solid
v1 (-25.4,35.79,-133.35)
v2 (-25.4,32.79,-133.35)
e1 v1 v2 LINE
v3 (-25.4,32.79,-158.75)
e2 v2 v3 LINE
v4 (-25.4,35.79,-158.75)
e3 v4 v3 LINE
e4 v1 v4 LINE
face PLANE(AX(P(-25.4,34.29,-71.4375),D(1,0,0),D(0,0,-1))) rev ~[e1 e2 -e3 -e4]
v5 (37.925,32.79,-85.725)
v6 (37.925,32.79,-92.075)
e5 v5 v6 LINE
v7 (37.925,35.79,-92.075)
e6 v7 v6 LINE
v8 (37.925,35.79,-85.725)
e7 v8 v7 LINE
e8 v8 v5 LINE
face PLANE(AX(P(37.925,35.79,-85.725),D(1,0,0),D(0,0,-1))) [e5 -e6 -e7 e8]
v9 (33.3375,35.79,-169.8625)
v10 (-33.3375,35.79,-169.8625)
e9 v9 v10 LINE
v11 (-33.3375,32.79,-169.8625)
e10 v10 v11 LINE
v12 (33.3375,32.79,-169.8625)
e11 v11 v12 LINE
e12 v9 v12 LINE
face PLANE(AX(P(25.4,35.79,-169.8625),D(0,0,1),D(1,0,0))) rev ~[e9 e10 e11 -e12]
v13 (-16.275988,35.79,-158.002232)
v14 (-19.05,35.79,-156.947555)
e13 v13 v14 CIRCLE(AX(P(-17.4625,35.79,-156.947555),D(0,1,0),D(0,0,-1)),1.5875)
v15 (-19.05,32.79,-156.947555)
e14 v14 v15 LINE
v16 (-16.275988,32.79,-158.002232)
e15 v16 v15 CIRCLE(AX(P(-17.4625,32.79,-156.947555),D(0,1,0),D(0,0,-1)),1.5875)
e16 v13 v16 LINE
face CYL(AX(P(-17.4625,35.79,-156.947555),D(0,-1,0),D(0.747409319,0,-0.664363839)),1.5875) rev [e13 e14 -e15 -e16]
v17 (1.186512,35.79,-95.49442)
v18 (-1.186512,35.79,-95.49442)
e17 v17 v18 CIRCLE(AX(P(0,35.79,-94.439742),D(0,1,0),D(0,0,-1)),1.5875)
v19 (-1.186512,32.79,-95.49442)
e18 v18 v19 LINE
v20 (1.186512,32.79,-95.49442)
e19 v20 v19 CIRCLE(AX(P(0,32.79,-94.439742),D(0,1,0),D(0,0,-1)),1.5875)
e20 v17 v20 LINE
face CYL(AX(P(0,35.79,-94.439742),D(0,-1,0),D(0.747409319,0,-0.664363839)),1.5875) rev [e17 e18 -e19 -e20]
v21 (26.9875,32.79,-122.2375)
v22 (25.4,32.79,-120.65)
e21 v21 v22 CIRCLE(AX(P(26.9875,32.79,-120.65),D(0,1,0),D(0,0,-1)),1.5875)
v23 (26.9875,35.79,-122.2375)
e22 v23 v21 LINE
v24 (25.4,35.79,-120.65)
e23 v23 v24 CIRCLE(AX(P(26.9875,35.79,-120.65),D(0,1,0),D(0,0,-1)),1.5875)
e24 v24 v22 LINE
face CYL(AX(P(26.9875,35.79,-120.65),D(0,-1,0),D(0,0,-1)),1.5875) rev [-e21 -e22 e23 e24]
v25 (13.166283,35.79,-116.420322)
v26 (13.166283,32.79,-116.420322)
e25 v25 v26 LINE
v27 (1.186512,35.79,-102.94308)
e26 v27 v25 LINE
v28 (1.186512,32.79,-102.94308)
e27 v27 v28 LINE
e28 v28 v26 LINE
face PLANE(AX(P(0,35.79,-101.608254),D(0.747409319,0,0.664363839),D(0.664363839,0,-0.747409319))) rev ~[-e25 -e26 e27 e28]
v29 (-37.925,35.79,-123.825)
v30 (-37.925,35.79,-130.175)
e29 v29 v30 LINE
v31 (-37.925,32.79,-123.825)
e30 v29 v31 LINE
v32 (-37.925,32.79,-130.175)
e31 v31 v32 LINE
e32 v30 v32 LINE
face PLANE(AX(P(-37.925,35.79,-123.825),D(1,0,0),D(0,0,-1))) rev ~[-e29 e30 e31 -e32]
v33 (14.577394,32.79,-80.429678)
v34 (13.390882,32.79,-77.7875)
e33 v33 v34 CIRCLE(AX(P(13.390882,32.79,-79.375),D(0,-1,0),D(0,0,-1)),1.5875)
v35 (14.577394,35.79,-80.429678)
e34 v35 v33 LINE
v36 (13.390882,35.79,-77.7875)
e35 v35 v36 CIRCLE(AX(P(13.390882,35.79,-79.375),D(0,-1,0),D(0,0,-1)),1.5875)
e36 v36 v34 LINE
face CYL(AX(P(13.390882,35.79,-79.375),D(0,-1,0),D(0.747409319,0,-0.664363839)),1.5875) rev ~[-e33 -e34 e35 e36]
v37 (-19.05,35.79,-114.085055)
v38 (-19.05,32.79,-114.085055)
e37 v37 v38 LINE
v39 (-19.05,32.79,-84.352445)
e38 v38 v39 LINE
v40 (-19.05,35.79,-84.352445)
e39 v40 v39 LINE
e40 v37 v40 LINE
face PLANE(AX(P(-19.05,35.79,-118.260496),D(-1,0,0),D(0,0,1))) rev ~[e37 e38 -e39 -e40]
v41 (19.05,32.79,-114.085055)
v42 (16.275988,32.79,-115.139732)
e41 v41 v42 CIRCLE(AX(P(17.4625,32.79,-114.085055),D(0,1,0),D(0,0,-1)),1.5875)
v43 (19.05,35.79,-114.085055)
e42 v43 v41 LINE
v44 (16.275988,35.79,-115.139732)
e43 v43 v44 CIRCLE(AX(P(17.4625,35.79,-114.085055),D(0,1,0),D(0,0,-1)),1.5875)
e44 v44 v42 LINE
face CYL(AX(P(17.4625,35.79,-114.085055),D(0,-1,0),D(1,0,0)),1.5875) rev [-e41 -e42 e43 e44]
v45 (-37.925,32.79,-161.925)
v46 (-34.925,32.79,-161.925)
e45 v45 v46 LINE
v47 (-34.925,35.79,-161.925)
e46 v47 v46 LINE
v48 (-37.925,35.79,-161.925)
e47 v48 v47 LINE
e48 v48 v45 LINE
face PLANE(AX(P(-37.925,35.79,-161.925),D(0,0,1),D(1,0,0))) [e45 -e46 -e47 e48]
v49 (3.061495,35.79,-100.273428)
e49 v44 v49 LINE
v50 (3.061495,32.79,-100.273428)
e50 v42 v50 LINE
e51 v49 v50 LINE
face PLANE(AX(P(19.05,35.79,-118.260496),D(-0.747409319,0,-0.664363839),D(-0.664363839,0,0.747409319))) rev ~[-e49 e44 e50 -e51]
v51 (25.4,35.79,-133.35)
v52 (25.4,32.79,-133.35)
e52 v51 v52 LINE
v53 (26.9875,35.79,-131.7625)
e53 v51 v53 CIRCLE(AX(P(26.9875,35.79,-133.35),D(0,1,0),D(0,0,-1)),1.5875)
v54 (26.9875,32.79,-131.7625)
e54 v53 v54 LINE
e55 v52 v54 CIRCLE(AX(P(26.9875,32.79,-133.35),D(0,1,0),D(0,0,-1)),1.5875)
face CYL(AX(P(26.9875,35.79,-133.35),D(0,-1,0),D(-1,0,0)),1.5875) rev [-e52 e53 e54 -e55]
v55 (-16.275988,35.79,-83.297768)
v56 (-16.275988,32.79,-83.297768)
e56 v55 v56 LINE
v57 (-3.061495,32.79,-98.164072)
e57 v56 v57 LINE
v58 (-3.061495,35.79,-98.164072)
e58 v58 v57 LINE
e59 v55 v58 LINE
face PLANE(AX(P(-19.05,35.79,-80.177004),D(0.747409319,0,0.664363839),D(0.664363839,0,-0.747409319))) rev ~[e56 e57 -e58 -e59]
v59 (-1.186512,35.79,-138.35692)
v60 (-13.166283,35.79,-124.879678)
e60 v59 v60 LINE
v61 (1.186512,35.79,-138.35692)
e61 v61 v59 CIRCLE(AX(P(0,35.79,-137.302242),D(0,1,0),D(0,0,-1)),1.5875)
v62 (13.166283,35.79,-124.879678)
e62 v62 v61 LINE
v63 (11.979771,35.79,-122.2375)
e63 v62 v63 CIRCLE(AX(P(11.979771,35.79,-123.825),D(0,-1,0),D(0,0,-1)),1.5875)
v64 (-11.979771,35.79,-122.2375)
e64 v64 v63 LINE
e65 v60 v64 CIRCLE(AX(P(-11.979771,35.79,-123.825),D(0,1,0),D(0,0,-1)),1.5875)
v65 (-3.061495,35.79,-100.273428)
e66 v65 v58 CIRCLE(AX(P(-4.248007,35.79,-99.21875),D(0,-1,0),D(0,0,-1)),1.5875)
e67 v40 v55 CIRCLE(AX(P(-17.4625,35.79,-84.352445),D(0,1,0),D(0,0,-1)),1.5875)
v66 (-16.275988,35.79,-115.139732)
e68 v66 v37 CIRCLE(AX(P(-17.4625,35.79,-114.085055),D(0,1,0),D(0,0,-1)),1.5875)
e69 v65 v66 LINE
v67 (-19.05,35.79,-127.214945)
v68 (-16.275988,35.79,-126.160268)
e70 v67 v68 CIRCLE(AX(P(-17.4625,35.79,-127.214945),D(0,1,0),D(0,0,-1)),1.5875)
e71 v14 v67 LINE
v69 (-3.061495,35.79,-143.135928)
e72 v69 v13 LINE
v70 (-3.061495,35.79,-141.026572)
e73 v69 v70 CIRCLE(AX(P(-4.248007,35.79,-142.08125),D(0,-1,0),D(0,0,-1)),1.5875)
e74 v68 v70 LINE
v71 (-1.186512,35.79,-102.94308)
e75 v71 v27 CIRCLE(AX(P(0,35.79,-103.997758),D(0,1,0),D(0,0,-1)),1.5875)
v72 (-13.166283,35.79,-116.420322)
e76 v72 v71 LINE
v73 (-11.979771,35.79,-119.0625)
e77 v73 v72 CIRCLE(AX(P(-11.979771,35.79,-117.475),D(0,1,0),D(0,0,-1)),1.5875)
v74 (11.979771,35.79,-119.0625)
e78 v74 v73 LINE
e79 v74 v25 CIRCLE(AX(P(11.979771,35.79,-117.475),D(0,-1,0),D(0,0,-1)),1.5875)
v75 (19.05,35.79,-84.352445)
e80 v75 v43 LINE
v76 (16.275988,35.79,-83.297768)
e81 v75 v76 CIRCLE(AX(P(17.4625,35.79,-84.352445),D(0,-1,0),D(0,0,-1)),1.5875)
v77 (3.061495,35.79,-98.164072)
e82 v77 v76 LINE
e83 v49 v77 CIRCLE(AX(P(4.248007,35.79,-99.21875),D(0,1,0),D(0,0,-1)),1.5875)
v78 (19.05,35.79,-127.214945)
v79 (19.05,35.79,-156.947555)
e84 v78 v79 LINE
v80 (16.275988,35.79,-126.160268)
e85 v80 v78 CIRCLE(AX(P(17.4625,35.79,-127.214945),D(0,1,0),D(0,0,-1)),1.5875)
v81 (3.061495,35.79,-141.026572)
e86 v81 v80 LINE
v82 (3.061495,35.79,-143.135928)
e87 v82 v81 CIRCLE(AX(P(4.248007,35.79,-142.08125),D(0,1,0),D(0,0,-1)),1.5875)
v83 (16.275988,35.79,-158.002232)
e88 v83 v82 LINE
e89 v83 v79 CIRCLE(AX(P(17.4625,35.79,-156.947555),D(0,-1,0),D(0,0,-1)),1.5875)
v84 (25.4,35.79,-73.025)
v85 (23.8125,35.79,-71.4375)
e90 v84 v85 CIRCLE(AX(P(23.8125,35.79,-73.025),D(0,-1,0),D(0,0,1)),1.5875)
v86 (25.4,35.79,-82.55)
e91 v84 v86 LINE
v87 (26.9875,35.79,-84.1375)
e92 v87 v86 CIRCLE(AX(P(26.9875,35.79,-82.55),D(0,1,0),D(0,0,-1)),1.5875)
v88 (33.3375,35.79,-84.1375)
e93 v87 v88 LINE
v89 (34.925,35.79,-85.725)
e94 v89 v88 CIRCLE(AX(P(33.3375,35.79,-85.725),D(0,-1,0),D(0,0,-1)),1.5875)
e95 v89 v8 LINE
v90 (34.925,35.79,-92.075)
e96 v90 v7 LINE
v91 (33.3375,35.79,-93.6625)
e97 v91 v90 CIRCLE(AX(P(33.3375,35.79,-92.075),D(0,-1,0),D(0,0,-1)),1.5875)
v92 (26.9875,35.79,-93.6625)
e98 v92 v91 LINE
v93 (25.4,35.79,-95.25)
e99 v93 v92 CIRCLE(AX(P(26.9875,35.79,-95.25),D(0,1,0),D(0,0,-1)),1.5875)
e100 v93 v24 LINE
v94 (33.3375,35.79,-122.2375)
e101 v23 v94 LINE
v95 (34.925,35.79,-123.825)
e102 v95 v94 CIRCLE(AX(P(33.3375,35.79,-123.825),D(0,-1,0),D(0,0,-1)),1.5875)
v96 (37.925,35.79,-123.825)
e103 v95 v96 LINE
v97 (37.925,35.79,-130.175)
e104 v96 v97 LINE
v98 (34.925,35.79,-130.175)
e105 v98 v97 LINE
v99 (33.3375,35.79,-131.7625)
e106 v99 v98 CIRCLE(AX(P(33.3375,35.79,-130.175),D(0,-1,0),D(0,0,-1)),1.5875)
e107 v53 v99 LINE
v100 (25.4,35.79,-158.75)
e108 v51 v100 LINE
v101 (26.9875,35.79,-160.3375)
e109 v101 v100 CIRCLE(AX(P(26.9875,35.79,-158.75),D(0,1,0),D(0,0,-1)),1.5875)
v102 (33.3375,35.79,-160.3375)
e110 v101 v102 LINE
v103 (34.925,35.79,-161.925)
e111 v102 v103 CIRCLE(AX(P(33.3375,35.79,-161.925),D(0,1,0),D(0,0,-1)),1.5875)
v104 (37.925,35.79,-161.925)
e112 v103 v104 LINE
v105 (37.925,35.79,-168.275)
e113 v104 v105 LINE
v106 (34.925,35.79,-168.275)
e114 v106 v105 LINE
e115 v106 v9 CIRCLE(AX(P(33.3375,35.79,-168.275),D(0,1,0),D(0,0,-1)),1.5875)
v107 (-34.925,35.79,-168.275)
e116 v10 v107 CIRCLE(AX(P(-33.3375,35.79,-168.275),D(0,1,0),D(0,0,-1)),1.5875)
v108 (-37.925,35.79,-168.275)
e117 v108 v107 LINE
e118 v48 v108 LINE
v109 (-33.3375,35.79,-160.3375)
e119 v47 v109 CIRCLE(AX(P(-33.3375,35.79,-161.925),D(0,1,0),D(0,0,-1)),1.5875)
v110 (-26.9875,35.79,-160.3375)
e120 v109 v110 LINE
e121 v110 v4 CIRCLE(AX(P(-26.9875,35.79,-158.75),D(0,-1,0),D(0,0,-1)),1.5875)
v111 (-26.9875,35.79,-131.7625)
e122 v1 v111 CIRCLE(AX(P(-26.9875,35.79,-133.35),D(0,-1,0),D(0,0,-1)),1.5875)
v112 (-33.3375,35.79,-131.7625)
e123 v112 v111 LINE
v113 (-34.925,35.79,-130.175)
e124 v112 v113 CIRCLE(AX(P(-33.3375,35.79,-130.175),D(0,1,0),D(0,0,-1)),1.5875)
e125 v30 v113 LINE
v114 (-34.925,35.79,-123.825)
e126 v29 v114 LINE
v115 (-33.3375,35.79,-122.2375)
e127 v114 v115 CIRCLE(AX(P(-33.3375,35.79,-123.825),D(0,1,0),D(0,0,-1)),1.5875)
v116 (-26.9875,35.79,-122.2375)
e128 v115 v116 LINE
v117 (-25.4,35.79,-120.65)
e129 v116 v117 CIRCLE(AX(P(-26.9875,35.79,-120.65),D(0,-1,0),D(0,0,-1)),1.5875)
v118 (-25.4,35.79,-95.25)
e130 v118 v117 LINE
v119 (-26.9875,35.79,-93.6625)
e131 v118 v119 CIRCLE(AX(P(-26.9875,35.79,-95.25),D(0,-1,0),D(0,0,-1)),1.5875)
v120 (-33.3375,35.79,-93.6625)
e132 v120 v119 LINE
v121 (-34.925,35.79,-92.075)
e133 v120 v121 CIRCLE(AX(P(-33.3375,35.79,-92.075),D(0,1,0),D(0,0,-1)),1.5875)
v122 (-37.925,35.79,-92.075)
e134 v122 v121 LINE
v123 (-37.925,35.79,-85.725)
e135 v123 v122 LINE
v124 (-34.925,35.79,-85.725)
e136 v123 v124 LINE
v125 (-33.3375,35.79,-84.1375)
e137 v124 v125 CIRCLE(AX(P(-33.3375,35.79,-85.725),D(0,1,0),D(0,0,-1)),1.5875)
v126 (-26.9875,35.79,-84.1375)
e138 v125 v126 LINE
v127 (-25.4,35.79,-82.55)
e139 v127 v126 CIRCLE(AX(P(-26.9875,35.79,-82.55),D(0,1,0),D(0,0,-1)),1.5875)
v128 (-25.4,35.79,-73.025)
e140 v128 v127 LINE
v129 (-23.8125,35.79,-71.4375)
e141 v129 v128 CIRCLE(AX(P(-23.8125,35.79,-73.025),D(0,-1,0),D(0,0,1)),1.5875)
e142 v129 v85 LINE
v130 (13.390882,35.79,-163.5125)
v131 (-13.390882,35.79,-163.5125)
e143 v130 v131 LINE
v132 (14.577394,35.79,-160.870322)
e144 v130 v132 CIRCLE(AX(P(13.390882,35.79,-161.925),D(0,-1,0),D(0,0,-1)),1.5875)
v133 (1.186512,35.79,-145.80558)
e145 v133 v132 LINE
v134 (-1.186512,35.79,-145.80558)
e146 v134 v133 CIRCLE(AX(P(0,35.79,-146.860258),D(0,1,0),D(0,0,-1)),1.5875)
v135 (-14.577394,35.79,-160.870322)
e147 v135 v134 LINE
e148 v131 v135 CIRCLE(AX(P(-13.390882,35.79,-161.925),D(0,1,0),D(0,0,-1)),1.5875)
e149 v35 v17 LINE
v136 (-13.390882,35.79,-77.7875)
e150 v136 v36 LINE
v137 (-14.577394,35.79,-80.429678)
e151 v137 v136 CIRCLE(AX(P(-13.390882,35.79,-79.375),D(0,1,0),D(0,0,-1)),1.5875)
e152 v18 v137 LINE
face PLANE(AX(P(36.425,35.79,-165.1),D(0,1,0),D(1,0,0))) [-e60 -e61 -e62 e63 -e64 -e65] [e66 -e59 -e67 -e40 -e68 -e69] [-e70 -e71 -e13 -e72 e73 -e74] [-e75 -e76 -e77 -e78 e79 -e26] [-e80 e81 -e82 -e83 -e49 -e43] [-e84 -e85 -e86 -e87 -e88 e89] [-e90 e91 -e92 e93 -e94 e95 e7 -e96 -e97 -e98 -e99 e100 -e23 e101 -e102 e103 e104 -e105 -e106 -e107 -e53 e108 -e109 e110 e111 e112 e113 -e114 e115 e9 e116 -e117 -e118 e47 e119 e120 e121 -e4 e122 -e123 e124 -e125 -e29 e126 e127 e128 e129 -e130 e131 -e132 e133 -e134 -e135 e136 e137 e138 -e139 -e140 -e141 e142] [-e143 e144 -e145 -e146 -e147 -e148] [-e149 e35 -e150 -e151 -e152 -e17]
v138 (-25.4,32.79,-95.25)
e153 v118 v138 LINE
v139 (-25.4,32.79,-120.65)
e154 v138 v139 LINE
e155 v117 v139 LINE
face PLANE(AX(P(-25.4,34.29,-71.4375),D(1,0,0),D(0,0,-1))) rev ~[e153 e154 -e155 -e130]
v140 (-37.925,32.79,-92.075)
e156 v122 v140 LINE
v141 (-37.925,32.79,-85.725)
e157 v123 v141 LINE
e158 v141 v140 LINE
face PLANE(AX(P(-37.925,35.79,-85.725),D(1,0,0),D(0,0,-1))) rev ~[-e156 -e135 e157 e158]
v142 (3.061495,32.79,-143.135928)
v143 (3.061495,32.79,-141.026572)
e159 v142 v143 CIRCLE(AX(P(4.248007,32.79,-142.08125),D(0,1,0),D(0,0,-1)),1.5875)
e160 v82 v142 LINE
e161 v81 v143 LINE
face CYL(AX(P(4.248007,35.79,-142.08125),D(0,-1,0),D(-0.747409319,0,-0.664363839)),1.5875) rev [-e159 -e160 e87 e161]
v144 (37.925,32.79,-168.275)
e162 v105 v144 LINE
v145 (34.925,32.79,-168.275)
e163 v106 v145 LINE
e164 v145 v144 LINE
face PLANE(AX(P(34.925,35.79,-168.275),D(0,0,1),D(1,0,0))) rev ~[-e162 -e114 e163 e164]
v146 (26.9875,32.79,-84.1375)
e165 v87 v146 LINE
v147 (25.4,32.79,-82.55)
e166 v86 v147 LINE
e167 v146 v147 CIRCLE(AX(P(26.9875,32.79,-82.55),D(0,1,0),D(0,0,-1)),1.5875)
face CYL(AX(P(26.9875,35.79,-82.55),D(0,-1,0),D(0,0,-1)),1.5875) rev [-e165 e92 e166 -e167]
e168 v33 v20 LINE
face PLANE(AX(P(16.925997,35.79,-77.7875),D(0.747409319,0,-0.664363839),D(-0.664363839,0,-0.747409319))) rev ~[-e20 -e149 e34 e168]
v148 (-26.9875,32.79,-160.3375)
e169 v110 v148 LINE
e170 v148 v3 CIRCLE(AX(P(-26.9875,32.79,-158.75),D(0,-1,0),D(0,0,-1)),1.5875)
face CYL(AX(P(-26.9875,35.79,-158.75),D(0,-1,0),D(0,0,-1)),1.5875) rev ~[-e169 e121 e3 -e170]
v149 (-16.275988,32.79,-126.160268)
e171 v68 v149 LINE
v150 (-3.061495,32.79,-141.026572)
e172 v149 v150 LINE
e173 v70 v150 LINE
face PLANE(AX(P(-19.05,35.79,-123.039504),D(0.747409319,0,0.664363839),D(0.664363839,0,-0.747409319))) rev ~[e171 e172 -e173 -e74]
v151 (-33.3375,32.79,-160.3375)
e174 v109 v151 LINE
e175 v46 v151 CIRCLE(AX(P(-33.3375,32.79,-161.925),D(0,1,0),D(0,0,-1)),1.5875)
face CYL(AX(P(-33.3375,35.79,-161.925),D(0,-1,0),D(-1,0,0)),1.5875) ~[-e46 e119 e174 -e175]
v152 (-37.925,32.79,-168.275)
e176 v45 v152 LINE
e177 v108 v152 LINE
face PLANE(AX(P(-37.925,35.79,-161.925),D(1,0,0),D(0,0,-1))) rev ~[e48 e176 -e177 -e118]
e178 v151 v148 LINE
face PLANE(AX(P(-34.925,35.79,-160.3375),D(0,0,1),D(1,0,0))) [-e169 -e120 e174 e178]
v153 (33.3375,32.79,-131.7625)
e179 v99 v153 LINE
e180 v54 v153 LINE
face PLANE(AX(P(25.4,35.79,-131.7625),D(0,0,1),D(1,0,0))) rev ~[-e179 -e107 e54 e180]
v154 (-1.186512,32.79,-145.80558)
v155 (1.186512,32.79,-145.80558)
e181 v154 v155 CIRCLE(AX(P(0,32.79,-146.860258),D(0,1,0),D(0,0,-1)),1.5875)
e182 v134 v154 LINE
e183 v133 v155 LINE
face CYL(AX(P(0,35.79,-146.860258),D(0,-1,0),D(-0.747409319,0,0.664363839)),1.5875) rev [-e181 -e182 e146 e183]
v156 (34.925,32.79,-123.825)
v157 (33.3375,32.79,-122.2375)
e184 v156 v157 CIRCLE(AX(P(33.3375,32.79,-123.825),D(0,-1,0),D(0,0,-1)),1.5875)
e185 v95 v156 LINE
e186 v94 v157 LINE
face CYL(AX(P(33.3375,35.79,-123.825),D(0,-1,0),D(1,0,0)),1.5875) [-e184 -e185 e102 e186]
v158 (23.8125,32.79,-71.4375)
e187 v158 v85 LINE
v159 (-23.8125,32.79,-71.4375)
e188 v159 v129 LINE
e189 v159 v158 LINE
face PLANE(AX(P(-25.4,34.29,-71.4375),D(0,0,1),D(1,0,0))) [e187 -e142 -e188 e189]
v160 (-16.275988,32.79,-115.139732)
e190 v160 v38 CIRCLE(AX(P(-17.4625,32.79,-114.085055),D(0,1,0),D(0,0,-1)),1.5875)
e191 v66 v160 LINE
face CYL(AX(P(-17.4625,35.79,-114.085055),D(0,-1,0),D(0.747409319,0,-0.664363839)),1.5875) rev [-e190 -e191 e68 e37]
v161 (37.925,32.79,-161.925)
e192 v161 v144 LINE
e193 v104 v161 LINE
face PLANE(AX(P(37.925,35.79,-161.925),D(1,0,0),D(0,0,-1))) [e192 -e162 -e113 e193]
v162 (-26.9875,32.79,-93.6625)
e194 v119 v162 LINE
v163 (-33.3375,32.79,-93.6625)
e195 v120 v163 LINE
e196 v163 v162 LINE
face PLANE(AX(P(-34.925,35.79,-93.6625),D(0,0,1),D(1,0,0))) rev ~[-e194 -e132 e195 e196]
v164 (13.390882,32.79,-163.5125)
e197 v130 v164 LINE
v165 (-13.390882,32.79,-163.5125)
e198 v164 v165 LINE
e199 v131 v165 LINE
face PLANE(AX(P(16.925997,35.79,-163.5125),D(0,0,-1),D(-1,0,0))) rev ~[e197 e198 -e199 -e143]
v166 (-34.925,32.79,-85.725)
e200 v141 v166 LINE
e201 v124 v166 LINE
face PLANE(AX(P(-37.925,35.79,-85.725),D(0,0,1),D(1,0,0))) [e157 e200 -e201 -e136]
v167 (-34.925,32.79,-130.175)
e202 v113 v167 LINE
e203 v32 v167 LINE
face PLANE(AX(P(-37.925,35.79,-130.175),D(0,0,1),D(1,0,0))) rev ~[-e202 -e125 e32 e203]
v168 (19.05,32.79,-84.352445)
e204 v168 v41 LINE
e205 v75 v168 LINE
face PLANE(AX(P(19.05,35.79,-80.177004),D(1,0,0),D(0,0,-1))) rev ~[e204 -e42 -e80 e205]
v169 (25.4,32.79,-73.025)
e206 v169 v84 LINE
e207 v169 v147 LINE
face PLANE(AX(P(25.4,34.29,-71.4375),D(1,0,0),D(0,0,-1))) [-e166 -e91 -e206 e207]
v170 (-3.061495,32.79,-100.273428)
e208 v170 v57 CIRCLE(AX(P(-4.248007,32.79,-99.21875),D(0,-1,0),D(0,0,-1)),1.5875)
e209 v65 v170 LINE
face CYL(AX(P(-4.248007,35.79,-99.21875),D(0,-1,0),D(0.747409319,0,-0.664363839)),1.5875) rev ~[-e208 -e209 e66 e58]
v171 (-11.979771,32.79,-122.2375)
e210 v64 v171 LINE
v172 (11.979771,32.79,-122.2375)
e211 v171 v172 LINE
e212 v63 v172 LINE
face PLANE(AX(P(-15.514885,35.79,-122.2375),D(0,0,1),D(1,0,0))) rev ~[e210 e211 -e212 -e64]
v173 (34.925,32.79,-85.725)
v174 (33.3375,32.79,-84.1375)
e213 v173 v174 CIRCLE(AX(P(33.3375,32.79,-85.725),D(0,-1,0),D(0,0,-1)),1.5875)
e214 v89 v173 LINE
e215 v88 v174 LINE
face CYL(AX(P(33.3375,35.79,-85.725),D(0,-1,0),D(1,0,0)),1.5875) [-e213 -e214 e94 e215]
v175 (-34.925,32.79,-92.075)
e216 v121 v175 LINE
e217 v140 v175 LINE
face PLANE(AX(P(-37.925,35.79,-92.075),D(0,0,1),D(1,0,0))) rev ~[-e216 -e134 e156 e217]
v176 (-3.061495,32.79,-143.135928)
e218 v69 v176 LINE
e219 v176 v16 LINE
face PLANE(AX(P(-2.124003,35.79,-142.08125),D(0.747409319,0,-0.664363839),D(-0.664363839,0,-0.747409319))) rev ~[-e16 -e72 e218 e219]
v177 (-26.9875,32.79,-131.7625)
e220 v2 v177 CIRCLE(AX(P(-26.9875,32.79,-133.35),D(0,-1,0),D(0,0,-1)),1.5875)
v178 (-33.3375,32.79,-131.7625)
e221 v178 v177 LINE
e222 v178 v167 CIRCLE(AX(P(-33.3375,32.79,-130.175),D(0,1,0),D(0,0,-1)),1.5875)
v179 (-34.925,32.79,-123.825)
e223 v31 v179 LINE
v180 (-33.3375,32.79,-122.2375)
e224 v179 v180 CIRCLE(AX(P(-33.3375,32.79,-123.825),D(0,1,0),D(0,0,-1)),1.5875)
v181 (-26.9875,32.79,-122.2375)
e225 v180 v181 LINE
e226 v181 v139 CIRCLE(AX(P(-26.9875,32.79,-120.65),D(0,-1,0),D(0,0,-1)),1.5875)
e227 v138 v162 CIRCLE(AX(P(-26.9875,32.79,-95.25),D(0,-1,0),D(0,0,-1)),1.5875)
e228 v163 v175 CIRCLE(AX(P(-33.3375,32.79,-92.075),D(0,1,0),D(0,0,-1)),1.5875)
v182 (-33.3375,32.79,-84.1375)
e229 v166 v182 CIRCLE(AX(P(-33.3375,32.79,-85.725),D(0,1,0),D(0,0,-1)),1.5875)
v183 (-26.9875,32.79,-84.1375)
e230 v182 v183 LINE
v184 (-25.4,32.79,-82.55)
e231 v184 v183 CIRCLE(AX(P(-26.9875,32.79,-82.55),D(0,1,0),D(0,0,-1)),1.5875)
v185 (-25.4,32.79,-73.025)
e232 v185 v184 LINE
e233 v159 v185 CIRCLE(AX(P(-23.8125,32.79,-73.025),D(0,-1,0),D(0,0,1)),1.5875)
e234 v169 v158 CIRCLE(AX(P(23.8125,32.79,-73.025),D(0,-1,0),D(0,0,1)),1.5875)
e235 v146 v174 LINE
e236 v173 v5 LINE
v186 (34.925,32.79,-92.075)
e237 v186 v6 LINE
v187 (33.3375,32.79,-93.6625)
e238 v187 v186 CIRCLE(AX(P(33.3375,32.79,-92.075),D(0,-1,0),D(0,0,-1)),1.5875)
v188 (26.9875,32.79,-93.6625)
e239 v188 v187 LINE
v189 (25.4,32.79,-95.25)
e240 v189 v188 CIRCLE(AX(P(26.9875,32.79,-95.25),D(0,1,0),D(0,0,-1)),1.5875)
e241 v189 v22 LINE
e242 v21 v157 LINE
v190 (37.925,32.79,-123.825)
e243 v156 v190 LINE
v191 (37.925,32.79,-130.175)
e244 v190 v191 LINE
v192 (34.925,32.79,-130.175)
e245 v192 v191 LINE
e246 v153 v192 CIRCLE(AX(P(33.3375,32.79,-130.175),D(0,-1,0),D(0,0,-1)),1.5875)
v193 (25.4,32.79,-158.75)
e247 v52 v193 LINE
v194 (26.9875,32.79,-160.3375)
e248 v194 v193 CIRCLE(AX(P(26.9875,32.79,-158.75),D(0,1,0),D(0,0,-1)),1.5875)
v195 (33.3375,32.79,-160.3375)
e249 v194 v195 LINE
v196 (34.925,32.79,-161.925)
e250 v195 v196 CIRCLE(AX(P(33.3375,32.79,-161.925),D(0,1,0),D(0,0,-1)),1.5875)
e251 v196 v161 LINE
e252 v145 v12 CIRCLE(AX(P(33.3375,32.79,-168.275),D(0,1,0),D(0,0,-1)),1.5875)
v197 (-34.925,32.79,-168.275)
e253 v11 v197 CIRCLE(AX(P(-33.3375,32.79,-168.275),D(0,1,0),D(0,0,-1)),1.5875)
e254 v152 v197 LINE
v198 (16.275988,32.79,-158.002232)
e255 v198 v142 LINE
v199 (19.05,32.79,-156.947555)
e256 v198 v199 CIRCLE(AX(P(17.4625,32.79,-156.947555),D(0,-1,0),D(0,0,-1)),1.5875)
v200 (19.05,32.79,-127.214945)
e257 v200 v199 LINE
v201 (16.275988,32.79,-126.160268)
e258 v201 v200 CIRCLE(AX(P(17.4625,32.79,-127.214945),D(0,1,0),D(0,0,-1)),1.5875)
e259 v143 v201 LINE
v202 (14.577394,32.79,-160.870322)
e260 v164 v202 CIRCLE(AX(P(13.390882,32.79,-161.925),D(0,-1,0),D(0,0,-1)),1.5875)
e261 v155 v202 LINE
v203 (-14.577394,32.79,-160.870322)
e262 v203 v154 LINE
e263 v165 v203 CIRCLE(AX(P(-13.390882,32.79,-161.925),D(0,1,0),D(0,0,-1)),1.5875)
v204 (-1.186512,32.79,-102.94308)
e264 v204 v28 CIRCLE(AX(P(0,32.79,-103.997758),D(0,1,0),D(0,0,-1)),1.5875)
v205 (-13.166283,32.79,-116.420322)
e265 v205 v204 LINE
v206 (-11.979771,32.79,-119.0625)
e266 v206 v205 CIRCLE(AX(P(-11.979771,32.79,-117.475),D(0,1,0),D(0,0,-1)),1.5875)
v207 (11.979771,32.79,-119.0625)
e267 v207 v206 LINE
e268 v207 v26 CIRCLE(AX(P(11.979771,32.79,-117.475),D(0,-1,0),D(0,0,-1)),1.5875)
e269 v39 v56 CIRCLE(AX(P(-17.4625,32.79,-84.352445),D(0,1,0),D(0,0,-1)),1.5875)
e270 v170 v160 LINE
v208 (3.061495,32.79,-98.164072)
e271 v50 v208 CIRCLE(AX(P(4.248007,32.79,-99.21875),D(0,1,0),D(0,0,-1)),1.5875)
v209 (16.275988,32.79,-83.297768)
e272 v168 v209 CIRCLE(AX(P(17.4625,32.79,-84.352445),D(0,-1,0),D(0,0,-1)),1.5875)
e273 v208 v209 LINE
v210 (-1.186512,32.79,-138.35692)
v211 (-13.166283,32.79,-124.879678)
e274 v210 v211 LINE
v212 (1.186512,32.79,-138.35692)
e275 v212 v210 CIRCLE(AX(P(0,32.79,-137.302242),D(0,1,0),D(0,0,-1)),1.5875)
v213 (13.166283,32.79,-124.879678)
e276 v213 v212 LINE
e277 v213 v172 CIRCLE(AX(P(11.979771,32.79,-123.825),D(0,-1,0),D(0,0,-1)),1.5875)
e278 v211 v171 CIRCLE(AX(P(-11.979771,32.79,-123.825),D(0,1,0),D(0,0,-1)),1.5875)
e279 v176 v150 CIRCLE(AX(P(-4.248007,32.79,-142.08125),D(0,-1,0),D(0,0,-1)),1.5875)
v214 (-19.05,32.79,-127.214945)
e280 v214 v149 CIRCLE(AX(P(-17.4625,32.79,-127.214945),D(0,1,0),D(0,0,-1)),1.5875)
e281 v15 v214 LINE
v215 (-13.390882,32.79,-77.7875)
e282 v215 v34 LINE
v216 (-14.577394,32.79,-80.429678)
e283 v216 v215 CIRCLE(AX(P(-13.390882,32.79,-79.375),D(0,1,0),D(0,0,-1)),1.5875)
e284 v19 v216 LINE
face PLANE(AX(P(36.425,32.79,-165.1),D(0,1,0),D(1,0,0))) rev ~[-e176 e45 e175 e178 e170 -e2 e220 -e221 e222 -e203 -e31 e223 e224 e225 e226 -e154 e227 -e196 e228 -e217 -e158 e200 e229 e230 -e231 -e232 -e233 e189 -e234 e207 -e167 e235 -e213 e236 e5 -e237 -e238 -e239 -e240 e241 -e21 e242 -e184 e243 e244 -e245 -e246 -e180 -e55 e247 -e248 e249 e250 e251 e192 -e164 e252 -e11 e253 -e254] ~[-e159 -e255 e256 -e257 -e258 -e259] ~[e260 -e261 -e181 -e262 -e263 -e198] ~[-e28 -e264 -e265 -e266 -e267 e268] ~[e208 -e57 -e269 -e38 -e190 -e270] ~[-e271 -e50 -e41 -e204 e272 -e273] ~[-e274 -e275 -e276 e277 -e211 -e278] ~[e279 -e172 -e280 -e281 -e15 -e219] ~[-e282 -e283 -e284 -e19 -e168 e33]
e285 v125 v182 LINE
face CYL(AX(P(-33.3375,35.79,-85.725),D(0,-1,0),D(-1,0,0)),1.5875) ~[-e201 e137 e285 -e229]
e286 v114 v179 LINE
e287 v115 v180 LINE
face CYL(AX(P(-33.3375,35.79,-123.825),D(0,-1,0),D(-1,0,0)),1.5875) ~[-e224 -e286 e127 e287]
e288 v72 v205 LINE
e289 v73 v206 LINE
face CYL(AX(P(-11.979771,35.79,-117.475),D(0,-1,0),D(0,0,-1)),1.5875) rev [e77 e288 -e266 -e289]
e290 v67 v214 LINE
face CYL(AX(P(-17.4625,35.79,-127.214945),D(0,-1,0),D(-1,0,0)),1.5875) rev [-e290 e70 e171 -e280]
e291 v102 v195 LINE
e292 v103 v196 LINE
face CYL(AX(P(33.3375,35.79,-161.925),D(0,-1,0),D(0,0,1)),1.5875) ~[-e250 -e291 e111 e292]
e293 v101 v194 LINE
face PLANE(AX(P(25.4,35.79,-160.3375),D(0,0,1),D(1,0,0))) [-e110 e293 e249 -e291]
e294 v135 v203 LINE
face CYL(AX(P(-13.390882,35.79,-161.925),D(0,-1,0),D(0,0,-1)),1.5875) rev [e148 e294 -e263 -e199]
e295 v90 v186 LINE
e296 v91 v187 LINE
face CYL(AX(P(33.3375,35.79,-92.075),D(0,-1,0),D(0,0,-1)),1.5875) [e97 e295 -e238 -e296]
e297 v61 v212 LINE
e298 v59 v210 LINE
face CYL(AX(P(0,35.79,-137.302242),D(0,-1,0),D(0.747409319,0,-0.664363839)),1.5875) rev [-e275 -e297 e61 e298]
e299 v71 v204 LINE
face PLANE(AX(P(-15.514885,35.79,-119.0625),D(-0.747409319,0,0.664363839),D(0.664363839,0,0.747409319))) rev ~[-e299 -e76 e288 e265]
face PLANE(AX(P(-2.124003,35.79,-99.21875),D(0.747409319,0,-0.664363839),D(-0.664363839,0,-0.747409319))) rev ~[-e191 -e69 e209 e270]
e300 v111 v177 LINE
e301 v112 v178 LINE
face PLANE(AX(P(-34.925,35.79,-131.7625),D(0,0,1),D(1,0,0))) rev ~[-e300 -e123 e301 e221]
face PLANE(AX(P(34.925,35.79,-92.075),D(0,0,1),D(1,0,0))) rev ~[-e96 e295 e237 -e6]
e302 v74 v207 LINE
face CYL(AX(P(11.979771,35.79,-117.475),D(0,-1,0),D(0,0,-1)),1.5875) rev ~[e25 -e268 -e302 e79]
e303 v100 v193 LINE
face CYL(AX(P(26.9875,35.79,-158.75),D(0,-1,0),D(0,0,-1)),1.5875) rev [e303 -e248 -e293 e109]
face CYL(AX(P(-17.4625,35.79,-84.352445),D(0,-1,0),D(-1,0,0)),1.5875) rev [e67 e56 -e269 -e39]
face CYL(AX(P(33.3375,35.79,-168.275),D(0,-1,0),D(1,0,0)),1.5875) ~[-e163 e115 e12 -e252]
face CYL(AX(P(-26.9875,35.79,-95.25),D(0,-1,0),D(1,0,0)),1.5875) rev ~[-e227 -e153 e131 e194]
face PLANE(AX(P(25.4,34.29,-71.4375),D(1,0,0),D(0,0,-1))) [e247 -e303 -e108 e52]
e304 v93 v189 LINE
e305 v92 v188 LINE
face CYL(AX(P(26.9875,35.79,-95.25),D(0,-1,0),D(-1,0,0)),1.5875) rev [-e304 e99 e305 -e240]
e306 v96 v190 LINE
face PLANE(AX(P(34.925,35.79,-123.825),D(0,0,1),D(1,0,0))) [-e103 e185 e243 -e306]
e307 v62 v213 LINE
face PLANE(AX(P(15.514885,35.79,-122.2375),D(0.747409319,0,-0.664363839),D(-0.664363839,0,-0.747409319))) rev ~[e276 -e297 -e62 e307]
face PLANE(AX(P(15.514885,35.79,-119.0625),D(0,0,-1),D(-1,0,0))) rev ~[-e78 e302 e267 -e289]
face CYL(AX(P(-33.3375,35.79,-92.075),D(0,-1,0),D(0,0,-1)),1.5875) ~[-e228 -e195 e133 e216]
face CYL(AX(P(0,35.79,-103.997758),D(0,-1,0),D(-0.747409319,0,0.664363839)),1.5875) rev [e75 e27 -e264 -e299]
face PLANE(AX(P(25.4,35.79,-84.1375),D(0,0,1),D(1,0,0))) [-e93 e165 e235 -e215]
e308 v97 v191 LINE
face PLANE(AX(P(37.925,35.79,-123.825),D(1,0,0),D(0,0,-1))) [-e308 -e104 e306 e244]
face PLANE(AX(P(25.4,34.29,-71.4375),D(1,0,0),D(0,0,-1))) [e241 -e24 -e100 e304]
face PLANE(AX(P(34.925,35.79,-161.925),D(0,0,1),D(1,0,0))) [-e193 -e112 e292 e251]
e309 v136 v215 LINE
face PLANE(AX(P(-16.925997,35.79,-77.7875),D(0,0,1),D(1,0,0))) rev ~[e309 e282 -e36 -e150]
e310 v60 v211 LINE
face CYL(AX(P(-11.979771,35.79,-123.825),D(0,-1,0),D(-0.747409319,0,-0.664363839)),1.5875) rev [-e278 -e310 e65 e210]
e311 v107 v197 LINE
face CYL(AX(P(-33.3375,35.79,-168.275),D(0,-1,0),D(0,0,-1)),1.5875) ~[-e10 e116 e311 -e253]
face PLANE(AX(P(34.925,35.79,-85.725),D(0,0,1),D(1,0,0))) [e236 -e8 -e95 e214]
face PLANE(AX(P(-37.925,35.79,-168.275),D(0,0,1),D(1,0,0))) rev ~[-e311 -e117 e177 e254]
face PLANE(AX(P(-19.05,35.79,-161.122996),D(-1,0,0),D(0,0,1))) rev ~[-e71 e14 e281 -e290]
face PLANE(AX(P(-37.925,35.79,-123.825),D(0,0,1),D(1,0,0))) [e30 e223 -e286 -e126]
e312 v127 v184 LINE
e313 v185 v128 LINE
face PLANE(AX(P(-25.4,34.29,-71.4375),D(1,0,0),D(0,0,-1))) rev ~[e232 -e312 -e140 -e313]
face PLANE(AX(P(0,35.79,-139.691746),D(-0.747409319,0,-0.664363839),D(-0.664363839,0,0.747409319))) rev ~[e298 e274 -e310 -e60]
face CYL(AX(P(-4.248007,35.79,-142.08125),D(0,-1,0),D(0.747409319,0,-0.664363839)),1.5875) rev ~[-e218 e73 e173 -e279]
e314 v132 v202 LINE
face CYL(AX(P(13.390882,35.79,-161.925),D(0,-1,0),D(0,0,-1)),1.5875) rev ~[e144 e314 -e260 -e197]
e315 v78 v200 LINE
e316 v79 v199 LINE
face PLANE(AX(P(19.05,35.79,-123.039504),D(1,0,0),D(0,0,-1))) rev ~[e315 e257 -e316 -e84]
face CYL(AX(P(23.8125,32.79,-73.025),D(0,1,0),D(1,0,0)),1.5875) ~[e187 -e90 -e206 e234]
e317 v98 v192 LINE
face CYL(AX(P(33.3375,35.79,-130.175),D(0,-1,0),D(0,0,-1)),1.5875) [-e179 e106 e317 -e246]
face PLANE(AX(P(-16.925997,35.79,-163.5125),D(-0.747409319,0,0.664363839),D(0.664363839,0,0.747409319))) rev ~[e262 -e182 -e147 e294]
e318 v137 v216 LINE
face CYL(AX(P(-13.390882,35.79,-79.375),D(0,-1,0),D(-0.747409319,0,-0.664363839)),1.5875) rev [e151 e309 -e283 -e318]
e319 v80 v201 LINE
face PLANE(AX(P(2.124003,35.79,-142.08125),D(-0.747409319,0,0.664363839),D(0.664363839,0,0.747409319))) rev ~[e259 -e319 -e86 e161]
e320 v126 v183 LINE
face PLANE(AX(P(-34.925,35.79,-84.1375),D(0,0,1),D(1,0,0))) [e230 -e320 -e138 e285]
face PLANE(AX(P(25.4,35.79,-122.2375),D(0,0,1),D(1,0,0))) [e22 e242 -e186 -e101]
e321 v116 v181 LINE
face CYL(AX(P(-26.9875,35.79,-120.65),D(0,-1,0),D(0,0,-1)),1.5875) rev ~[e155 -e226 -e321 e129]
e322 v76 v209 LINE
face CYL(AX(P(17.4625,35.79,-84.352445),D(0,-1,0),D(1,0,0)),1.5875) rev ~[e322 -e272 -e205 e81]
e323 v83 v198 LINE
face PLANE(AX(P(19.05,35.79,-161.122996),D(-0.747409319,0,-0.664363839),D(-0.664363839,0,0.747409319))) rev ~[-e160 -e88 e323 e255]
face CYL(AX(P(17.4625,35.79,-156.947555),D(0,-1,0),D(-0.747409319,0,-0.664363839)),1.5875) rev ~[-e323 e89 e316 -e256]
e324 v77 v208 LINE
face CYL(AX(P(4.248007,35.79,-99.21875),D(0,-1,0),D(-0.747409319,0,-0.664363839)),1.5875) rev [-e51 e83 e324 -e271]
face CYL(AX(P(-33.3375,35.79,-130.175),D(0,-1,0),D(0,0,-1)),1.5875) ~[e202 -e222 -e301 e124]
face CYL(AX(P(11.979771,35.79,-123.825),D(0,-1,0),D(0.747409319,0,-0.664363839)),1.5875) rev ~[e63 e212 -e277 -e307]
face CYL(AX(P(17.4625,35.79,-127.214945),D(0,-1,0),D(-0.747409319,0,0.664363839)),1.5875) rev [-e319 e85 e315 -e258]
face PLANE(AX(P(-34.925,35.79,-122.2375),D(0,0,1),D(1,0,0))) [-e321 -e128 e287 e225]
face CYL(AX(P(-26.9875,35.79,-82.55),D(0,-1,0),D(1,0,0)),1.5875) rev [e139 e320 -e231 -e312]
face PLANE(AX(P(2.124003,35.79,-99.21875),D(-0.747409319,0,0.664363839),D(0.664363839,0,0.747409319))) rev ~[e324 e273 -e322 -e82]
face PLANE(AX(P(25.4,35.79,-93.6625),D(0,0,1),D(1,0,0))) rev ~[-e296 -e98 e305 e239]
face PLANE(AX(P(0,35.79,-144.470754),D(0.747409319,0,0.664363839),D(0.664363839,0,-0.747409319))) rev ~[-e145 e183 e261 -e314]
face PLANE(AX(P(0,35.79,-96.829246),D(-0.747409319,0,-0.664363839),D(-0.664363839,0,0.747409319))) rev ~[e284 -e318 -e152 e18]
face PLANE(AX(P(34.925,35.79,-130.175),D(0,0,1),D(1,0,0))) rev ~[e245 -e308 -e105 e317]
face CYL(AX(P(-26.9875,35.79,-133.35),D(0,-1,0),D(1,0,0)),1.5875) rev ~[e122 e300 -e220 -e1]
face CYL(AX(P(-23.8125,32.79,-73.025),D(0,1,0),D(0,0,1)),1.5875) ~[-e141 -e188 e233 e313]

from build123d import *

# Parameters (mm, degrees)
SKETCH1_W           = 50.8
SKETCH1_H           = 98.425
BOSS_EXTRUDE1_DEPTH = 1.5
SKETCH2_W           = 9.525
SKETCH2_H           = 9.525
BOSS_EXTRUDE2_DEPTH = 3
CUT_EXTRUDE1_DEPTH  = 3
FILLET1_R           = 1.5875
SKETCH5_W           = 3
SKETCH5_H           = 6.35
BOSS_EXTRUDE3_DEPTH = 3


with BuildPart() as part:
    # Sketch1 → Boss-Extrude1 (new, symmetric)
    with BuildSketch(Plane(origin=(0, 34.29, 0), x_dir=(1, 0, 0), z_dir=(0, 1, 0))):
        with Locations((0, 120.65)):
            Rectangle(SKETCH1_W, SKETCH1_H)
    extrude(amount=BOSS_EXTRUDE1_DEPTH, both=True)

    # Sketch2 → Boss-Extrude2 (add)
    with BuildSketch(Plane(origin=(0, 35.79, 0), x_dir=(1, 0, 0), z_dir=(0, 1, 0))):
        with Locations((30.1625, 165.1)):
            Rectangle(SKETCH2_W, SKETCH2_H)
        with Locations((-30.1625, 165.1)):
            Rectangle(SKETCH2_W, SKETCH2_H)
        with Locations((30.1625, 127)):
            Rectangle(SKETCH2_W, SKETCH2_H)
        with Locations((-30.1625, 127)):
            Rectangle(SKETCH2_W, SKETCH2_H)
        with Locations((30.1625, 88.9)):
            Rectangle(SKETCH2_W, SKETCH2_H)
        with Locations((-30.1625, 88.9)):
            Rectangle(SKETCH2_W, SKETCH2_H)
    extrude(amount=-BOSS_EXTRUDE2_DEPTH)

    # Sketch4 → Cut-Extrude1 (cut)
    with BuildSketch(Plane(origin=(0, 35.79, 0), x_dir=(1, 0, 0), z_dir=(0, 1, 0))):
        Polygon((16.925996512, 163.5125), (-16.925996512, 163.5125), (0, 144.470753924), align=None)
        Polygon((-2.124003488, 142.08125), (-19.05, 161.122996076), (-19.05, 123.039503924), align=None)
        Polygon((19.05, 161.122996076), (2.124003488, 142.08125), (19.05, 123.039503924), align=None)
        Polygon((15.514885401, 122.2375), (0, 139.691746076), (-15.514885401, 122.2375), align=None)
        Polygon((-2.124003488, 99.21875), (-19.05, 118.260496076), (-19.05, 80.177003924), align=None)
        Polygon((15.514885401, 119.0625), (-15.514885401, 119.0625), (0, 101.608253924), align=None)
        Polygon((19.05, 80.177003924), (19.05, 118.260496076), (2.124003488, 99.21875), align=None)
        Polygon((16.925996512, 77.7875), (0, 96.829246076), (-16.925996512, 77.7875), align=None)
    extrude(amount=-CUT_EXTRUDE1_DEPTH, mode=Mode.SUBTRACT)

    # Fillet1
    fillet1_edges = [part.edges().sort_by_distance(p)[0] for p in [
        (15.514885401, 34.29, -122.2375),
        (-15.514885401, 34.29, -122.2375),
        (0, 34.29, -139.691746076),
        (15.514885401, 34.29, -119.0625),
        (0, 34.29, -101.608253924),
        (-15.514885401, 34.29, -119.0625),
        (16.925996512, 34.29, -77.7875),
        (-16.925996512, 34.29, -77.7875),
        (0, 34.29, -96.829246076),
        (-2.124003488, 34.29, -99.21875),
        (-19.05, 34.29, -80.177003924),
        (-19.05, 34.29, -118.260496076),
        (-2.124003488, 34.29, -142.08125),
        (-19.05, 34.29, -123.039503924),
        (-19.05, 34.29, -161.122996076),
        (19.05, 34.29, -123.039503924),
        (2.124003488, 34.29, -142.08125),
        (19.05, 34.29, -161.122996076),
        (0, 34.29, -144.470753924),
        (-16.925996512, 34.29, -163.5125),
        (16.925996512, 34.29, -163.5125),
        (19.05, 34.29, -118.260496076),
        (19.05, 34.29, -80.177003924),
        (2.124003488, 34.29, -99.21875),
        (34.925, 34.29, -84.1375),
        (34.925, 34.29, -93.6625),
        (25.4, 34.29, -93.6625),
        (25.4, 34.29, -84.1375),
        (-25.4, 34.29, -122.2375),
        (-25.4, 34.29, -131.7625),
        (-34.925, 34.29, -131.7625),
        (-34.925, 34.29, -122.2375),
        (34.925, 34.29, -122.2375),
        (34.925, 34.29, -131.7625),
        (25.4, 34.29, -131.7625),
        (25.4, 34.29, -122.2375),
        (-25.4, 34.29, -160.3375),
        (-34.925, 34.29, -169.8625),
        (-34.925, 34.29, -160.3375),
        (-25.4, 34.29, -84.1375),
        (-25.4, 34.29, -93.6625),
        (-34.925, 34.29, -93.6625),
        (-34.925, 34.29, -84.1375),
        (34.925, 34.29, -160.3375),
        (34.925, 34.29, -169.8625),
        (25.4, 34.29, -160.3375),
        (-25.4, 34.29, -71.4375),
        (25.4, 34.29, -71.4375),
    ]]
    fillet(fillet1_edges, radius=FILLET1_R)

    # Sketch5 → Boss-Extrude3 (add)
    with BuildSketch(Plane(origin=(0, 35.79, 0), x_dir=(1, 0, 0), z_dir=(0, 1, 0))):
        with Locations((36.425, 165.1)):
            Rectangle(SKETCH5_W, SKETCH5_H)
        with Locations((-36.425, 165.1)):
            Rectangle(SKETCH5_W, SKETCH5_H)
        with Locations((36.425, 127)):
            Rectangle(SKETCH5_W, SKETCH5_H)
        with Locations((-36.425, 127)):
            Rectangle(SKETCH5_W, SKETCH5_H)
        with Locations((36.425, 88.9)):
            Rectangle(SKETCH5_W, SKETCH5_H)
        with Locations((-36.425, 88.9)):
            Rectangle(SKETCH5_W, SKETCH5_H)
    extrude(amount=-BOSS_EXTRUDE3_DEPTH)


solid = part.part
